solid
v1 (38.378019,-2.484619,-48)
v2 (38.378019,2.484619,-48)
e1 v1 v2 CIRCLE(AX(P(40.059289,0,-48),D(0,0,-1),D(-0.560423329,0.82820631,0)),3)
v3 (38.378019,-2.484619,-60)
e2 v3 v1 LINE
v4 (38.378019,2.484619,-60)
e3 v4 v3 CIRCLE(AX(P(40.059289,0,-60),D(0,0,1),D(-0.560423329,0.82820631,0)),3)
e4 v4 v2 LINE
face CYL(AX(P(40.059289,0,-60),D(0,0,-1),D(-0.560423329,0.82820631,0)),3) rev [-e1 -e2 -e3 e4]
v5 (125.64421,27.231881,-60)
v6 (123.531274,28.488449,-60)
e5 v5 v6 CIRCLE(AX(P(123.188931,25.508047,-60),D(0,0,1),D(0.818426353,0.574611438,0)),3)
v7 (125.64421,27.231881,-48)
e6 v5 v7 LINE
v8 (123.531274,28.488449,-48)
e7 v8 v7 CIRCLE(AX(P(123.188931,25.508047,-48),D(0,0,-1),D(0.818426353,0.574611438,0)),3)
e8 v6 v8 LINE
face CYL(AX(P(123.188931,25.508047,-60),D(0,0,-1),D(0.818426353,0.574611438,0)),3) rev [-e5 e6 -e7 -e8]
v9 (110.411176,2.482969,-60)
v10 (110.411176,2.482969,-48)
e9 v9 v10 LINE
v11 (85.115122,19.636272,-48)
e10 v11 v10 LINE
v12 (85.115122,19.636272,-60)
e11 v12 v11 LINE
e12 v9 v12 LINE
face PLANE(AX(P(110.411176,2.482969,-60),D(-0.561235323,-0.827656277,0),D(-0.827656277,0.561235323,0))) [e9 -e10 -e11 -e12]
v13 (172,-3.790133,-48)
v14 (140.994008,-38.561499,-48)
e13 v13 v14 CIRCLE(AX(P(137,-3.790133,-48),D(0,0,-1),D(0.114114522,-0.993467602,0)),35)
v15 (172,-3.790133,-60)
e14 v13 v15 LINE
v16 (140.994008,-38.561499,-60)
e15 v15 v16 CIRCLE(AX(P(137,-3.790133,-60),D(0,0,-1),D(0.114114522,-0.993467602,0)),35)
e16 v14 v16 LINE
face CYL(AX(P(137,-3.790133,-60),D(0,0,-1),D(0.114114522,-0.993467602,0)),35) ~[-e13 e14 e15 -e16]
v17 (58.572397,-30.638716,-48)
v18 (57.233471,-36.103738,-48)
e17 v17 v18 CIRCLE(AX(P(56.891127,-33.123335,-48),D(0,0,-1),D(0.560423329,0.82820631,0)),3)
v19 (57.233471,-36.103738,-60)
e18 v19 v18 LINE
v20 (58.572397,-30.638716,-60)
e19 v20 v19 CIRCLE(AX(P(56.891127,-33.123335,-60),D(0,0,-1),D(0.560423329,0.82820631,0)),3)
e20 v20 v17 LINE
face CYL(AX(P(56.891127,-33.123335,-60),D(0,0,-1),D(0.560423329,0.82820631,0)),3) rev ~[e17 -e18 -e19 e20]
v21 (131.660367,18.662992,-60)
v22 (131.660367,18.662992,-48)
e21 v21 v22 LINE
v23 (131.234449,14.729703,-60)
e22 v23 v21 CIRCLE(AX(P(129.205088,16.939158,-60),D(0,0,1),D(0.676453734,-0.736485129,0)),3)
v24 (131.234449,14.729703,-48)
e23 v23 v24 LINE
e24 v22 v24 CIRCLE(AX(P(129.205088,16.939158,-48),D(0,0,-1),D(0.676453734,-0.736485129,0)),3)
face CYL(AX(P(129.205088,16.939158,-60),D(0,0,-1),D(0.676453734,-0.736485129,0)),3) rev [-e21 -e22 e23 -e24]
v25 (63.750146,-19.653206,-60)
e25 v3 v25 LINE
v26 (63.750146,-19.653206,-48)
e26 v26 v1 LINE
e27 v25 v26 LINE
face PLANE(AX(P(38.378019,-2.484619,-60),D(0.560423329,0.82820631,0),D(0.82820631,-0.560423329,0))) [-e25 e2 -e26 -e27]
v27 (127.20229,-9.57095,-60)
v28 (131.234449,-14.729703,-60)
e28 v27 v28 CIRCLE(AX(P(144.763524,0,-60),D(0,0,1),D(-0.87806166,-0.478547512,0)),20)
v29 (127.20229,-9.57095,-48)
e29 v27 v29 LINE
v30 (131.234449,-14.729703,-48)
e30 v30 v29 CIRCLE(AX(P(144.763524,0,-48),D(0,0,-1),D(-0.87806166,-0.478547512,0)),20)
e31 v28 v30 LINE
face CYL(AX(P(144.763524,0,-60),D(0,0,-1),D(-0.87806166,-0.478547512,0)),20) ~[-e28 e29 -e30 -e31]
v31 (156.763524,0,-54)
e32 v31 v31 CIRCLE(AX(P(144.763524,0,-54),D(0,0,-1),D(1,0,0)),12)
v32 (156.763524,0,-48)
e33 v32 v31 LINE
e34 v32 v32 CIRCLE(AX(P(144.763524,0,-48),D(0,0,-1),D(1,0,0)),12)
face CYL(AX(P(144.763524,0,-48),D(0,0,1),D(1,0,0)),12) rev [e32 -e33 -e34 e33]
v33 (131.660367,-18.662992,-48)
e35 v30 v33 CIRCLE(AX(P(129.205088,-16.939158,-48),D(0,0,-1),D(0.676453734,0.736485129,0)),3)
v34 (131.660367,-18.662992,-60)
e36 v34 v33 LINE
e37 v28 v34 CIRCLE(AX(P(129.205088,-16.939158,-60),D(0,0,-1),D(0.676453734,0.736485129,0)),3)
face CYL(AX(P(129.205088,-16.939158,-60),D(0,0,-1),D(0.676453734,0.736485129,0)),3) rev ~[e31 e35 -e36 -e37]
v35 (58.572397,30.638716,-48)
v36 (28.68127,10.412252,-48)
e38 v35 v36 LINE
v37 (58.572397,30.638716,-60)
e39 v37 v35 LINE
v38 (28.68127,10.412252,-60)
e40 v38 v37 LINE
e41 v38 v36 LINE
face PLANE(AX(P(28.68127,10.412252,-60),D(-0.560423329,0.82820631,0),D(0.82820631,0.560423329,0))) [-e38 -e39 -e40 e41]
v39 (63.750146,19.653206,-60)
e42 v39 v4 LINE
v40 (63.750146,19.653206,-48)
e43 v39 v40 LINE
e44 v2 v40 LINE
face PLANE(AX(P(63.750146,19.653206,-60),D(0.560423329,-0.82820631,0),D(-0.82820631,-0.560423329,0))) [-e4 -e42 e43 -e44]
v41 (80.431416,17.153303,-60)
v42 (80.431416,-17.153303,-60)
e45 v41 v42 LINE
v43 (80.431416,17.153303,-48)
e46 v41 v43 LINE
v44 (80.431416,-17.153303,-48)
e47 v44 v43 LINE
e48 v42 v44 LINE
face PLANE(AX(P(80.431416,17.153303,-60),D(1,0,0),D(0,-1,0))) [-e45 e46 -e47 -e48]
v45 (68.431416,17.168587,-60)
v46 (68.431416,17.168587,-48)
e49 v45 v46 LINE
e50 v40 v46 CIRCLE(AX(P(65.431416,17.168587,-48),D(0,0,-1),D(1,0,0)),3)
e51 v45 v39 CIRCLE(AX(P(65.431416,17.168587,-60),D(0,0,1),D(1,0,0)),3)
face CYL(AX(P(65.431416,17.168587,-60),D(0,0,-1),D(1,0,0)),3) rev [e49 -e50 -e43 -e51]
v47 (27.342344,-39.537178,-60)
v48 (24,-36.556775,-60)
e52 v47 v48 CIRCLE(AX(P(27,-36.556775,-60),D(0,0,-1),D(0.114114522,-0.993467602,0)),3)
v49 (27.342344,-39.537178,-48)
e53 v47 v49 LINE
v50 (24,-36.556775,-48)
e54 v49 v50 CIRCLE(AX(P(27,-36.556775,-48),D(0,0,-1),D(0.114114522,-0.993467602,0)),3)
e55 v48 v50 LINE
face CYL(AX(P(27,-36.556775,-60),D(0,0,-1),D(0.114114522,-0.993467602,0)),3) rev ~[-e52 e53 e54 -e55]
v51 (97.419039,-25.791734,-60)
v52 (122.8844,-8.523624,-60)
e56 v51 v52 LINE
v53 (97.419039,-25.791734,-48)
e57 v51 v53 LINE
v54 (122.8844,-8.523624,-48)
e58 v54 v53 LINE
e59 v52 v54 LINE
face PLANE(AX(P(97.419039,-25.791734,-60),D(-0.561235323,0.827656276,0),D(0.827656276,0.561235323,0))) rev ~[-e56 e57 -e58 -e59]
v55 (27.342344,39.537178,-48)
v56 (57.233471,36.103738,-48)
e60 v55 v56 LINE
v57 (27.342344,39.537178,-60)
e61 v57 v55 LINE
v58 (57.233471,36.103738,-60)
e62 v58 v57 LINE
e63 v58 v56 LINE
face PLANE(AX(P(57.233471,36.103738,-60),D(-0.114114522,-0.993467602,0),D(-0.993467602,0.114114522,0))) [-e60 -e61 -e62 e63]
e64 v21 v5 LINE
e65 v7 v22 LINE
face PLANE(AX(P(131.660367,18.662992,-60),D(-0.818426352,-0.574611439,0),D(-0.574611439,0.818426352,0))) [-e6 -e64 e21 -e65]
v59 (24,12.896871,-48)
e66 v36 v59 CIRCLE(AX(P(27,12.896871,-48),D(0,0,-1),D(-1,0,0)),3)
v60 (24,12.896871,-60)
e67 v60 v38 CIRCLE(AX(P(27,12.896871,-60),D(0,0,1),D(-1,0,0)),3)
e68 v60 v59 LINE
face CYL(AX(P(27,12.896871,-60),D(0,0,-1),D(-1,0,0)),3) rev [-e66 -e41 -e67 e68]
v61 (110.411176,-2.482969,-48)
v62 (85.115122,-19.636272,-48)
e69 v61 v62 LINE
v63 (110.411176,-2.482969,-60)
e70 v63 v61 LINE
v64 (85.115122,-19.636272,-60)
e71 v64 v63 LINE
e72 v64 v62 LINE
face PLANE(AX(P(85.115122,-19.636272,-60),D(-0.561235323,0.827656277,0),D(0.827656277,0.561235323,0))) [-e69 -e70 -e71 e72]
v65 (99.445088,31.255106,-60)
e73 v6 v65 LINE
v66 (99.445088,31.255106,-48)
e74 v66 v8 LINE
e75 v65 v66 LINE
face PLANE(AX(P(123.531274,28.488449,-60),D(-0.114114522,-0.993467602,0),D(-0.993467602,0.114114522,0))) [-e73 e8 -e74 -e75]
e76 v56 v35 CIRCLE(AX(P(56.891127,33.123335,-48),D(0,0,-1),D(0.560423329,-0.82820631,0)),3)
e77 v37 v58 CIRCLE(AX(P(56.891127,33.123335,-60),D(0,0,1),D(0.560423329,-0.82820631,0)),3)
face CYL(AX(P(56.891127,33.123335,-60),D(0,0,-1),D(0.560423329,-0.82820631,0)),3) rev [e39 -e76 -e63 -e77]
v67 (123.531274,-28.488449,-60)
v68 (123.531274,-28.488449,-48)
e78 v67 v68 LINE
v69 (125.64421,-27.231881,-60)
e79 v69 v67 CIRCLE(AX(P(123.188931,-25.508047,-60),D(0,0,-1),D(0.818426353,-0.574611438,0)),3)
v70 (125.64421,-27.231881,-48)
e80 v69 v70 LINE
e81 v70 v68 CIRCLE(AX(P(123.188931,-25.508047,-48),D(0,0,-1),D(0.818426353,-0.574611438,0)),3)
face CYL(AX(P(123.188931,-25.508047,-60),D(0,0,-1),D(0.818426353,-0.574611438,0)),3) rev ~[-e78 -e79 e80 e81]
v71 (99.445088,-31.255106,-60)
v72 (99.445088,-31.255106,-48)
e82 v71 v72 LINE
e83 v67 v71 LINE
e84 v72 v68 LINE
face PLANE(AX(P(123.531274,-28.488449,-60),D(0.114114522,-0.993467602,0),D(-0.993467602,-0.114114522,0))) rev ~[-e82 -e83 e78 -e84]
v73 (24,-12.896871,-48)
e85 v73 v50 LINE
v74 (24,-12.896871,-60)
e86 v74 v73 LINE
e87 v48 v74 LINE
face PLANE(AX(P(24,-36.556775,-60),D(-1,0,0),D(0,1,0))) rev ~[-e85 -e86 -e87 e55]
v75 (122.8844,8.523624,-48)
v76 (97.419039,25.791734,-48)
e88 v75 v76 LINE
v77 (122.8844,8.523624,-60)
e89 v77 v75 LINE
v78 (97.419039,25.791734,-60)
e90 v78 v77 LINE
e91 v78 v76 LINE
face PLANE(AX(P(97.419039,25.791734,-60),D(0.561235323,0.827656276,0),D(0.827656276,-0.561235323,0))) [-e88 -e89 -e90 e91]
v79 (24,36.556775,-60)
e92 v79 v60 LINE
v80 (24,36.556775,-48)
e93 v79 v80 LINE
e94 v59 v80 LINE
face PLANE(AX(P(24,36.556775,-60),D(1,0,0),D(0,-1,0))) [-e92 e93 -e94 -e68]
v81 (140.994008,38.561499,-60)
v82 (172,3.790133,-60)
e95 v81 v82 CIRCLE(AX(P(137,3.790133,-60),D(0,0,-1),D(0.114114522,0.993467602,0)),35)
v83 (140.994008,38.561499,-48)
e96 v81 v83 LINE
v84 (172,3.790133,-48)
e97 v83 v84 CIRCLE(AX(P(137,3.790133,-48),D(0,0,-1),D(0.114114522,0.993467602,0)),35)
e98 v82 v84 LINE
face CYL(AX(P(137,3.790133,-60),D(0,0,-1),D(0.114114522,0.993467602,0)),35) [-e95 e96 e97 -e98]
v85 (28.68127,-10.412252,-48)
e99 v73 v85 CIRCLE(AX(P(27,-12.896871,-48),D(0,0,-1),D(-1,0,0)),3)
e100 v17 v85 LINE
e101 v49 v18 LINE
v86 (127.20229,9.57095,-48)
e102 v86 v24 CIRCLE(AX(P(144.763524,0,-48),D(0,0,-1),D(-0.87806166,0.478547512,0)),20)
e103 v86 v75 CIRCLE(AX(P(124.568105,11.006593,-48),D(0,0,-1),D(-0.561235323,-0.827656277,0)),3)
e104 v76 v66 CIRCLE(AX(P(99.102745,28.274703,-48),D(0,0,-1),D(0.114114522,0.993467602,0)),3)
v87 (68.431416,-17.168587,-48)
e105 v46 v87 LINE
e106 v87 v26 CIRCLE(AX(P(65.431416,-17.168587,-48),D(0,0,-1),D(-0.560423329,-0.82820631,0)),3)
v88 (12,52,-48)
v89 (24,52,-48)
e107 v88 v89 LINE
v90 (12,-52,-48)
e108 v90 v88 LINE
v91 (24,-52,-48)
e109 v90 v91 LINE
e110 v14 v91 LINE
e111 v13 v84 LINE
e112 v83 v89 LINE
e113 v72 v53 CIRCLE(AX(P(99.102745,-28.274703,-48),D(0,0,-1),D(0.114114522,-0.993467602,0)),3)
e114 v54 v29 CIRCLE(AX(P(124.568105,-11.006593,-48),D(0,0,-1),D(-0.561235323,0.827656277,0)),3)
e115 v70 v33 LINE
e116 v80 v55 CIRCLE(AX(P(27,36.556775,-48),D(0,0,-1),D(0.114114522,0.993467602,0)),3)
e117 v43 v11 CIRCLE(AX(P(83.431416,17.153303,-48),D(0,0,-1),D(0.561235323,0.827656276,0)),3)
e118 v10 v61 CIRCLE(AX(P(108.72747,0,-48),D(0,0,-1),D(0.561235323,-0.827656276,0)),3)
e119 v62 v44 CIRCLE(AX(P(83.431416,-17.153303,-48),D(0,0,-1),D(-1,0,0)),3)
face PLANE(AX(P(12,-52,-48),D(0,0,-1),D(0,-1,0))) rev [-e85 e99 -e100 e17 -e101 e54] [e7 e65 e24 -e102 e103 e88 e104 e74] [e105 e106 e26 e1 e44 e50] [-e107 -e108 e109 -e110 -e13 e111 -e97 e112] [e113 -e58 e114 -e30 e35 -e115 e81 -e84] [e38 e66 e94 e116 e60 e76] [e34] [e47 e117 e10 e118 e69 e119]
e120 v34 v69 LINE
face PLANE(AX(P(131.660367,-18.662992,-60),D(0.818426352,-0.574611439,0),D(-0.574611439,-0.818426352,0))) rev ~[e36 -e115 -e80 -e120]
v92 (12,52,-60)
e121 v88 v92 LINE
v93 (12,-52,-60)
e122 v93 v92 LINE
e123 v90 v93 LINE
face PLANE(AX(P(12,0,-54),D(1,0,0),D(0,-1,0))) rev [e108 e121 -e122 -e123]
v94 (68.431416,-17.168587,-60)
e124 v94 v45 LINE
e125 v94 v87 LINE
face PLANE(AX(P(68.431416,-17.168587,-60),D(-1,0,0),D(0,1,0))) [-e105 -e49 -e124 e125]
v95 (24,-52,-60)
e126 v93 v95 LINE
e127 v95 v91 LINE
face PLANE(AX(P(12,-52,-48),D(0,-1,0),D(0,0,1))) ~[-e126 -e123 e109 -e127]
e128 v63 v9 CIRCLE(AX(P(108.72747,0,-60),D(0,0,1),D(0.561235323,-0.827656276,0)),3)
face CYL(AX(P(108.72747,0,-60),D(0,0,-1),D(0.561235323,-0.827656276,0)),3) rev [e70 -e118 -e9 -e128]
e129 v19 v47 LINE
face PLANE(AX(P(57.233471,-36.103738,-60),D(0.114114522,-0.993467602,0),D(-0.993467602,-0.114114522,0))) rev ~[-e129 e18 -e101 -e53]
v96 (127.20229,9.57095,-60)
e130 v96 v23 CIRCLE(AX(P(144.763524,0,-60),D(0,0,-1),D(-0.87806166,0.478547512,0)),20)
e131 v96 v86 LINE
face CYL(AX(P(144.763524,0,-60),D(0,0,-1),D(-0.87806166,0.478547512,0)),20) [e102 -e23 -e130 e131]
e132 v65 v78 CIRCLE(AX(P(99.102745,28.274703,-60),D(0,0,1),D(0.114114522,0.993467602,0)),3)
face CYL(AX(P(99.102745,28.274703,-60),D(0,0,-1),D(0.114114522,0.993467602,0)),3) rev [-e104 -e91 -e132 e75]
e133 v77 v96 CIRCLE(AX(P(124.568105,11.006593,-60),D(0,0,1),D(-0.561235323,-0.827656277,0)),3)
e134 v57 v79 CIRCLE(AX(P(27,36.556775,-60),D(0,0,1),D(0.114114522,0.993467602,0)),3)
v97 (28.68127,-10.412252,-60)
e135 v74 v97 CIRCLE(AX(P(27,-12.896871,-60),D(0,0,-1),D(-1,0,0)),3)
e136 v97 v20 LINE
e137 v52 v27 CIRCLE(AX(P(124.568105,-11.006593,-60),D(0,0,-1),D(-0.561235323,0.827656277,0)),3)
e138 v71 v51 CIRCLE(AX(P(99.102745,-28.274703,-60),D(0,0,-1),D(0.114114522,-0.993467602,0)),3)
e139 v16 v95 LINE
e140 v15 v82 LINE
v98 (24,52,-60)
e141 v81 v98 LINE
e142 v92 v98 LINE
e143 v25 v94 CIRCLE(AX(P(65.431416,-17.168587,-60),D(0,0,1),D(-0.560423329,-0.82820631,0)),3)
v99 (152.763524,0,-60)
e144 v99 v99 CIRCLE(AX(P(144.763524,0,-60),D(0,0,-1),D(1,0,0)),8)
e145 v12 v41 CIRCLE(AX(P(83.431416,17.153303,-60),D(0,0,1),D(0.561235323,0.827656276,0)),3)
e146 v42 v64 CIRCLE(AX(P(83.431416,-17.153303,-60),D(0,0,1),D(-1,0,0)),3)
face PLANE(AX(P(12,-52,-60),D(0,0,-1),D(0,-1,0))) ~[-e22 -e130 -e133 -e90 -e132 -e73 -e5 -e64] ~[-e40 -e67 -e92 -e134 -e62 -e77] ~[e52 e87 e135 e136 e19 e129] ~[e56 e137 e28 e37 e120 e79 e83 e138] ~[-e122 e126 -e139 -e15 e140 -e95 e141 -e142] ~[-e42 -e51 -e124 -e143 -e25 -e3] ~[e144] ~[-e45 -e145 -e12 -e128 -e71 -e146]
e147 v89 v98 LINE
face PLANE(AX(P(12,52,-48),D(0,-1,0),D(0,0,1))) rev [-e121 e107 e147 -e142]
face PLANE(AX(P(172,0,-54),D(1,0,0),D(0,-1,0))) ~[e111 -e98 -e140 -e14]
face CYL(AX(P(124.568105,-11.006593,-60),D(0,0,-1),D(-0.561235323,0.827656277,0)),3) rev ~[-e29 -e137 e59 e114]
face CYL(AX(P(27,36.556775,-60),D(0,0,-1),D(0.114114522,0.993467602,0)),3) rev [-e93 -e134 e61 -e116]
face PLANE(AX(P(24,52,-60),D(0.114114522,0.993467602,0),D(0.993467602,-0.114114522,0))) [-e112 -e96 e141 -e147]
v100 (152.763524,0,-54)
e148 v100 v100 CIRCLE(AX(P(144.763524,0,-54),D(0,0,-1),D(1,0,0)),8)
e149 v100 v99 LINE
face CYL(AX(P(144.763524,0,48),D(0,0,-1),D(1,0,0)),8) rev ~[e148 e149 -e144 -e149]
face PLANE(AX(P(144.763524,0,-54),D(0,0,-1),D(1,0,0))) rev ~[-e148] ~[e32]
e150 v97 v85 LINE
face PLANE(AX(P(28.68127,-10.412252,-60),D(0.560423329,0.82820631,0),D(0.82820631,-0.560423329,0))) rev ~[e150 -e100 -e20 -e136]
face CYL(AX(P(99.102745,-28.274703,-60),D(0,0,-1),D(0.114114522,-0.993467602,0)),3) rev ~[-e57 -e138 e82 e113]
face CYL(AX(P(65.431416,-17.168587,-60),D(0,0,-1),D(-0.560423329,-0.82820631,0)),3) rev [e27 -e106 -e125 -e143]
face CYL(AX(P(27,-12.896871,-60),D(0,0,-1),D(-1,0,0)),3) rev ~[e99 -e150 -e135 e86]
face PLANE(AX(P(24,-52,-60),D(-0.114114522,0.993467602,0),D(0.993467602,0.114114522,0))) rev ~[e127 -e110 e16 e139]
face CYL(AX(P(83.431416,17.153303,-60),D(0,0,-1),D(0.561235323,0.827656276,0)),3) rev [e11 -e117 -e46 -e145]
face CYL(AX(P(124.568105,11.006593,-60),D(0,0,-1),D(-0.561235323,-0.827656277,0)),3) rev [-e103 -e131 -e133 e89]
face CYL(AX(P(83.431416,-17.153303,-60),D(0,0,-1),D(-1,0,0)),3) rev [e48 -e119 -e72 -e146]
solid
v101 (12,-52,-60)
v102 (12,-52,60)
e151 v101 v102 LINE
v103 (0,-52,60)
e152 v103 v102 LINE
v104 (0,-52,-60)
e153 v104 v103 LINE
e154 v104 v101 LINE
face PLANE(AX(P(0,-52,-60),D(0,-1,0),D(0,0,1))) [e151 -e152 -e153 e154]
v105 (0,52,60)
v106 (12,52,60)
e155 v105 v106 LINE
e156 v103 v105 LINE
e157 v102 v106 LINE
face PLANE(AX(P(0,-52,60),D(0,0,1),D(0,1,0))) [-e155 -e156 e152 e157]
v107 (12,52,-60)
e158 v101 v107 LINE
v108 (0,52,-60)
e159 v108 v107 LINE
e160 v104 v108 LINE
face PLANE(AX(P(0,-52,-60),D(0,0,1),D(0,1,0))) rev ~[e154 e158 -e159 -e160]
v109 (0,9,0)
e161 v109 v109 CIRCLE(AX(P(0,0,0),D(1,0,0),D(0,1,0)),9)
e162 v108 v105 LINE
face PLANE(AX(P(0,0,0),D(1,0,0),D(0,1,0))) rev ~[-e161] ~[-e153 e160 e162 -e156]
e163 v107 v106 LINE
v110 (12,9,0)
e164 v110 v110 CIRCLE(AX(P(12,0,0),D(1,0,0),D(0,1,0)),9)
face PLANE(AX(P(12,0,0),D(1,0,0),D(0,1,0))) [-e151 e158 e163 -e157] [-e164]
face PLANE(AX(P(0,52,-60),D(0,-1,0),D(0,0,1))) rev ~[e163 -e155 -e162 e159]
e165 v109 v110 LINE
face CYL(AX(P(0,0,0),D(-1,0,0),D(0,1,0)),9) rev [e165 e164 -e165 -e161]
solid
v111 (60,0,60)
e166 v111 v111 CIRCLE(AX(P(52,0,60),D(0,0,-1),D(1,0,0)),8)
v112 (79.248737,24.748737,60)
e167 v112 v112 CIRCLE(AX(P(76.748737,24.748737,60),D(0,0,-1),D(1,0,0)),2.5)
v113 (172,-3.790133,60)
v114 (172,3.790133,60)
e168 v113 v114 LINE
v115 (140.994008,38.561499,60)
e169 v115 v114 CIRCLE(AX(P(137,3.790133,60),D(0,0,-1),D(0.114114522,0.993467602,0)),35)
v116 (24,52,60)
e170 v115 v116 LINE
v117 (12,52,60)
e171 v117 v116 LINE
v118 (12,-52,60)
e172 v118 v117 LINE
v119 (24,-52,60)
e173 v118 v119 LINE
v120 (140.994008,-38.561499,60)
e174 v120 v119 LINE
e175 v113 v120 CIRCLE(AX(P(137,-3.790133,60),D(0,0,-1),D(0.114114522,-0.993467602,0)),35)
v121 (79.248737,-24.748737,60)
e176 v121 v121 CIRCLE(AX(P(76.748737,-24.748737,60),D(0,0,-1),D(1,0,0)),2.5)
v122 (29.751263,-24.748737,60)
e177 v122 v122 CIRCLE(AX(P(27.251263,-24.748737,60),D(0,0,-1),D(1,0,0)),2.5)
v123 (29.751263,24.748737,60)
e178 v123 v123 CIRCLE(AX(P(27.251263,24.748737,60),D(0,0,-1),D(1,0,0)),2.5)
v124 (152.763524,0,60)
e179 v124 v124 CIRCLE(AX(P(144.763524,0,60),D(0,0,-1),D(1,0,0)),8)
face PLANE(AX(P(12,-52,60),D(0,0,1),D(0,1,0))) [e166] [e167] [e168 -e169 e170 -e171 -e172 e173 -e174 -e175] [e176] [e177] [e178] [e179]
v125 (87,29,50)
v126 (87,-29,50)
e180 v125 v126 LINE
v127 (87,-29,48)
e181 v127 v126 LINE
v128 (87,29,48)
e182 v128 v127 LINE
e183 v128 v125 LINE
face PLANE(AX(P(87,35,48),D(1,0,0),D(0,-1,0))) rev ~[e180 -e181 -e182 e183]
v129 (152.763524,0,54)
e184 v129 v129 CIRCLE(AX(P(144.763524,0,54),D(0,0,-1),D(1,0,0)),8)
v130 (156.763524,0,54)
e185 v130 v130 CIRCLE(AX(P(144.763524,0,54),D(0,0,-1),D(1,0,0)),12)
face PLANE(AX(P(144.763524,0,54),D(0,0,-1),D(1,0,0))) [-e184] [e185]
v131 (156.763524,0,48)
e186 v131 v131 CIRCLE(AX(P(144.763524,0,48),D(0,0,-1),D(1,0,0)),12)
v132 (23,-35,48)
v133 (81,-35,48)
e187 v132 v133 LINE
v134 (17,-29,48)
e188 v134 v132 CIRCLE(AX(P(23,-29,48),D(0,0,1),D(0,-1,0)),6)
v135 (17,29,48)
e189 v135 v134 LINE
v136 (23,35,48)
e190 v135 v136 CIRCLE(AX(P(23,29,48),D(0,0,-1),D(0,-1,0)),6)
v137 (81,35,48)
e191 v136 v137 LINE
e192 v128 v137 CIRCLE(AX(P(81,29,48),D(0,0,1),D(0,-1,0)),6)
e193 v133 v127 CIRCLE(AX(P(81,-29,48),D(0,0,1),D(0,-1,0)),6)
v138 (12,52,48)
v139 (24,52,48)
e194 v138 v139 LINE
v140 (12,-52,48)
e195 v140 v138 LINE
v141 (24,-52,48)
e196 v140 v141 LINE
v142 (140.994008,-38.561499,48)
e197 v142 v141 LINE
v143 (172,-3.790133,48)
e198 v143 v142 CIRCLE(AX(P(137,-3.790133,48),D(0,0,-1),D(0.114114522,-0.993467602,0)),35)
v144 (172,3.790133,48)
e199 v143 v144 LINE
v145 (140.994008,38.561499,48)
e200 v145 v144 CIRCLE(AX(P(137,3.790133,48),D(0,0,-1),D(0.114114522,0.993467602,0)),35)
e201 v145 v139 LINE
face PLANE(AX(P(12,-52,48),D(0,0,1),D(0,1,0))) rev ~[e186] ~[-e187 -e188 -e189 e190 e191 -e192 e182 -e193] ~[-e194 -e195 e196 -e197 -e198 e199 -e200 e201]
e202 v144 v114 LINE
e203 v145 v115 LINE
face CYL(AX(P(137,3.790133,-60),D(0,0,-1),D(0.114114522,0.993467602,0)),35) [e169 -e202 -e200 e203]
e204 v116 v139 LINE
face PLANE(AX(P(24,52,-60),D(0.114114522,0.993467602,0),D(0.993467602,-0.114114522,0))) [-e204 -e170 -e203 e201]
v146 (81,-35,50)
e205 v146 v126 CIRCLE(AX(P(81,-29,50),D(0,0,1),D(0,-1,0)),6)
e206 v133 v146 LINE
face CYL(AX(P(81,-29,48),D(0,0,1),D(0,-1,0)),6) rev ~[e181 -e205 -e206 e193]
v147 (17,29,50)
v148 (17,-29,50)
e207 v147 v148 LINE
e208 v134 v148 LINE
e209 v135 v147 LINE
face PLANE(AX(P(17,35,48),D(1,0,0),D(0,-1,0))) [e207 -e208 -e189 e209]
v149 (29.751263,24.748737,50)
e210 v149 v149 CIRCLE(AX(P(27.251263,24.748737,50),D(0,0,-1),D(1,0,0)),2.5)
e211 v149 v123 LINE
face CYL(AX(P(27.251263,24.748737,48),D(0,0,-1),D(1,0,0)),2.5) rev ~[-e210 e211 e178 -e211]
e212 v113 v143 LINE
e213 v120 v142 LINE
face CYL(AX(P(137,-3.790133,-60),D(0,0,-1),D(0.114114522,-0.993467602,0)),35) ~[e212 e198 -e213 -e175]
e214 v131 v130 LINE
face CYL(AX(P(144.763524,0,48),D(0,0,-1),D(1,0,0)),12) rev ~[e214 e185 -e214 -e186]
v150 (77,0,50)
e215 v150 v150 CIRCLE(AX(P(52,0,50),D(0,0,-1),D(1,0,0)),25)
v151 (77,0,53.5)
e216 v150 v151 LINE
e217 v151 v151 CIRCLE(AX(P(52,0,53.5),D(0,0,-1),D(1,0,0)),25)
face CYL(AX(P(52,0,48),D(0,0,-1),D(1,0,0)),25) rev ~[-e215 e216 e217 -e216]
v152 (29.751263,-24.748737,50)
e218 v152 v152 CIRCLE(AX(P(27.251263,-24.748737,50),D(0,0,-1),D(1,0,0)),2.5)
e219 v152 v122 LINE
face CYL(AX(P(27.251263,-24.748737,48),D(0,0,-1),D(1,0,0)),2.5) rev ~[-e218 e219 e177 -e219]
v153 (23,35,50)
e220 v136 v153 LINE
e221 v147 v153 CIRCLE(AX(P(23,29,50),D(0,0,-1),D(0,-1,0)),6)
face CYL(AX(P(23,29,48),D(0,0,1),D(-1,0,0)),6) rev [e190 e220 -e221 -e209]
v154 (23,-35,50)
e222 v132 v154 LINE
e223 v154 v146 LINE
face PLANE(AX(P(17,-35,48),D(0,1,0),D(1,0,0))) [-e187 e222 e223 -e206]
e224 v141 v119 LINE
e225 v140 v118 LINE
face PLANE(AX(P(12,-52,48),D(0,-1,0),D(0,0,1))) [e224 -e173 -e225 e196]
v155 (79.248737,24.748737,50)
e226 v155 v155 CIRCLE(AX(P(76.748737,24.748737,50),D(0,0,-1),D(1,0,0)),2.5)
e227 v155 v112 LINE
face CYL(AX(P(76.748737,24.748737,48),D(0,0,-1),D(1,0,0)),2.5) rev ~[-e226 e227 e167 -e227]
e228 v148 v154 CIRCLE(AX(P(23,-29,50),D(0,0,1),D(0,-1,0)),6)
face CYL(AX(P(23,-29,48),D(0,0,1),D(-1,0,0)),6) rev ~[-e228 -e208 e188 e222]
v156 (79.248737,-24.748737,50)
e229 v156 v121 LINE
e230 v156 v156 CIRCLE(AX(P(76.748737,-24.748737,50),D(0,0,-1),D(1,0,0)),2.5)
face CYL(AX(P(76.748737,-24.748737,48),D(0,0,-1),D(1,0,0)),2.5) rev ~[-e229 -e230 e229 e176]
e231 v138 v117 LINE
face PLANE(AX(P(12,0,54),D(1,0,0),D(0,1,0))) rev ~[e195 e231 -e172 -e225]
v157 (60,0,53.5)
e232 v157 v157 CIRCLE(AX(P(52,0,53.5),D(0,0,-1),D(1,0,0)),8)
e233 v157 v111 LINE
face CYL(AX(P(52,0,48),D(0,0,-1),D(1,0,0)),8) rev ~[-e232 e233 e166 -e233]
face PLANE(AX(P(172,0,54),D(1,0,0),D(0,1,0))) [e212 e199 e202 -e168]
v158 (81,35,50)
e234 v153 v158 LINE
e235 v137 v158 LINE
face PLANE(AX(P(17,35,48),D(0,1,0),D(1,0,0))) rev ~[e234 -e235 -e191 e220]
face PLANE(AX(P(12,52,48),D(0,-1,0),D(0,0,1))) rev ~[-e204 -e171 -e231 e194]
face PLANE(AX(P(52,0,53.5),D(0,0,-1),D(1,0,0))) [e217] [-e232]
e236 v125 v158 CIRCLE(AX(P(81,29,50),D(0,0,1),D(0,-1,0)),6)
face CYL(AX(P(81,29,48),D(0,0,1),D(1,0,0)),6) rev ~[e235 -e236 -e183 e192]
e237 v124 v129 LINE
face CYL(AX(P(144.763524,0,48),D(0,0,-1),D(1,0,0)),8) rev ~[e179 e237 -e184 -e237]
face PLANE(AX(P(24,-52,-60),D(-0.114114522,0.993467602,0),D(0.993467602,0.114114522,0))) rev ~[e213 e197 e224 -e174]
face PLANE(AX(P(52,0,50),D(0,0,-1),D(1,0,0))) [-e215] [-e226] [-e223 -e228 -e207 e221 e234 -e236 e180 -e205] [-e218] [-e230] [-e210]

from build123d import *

# Parameters (mm, degrees)
SKETCH1_W               = 104
SKETCH1_H               = 120
SKETCH1_R               = 9
BOSS_EXTRUDE1_DEPTH     = 12
SKETCH2_W               = 104
SKETCH2_H               = 12
BOSS_EXTRUDE3_DEPTH     = 160
SKETCH3_R               = 8
SKETCH3_R_2             = 2.5
CUT_EXTRUDE1_DEPTH      = 20
SKETCH3_3_R             = 25
CUT_EXTRUDE2_DEPTH      = 5.5
SKETCH3_4_W             = 70
SKETCH3_4_H             = 70
CUT_EXTRUDE3_DEPTH      = 2
FILLET1_R               = 6
SKETCH3_5_R             = 8
CUT_EXTRUDE4_DEPTH      = 109
CUT_EXTRUDE4_DEPTH_BACK = 13
SKETCH3_6_R             = 12
SKETCH3_6_R_2           = 8
CUT_EXTRUDE5_DEPTH      = 6
CUT_EXTRUDE6_START      = 96
SKETCH3_7_R             = 12
CUT_EXTRUDE6_DEPTH      = 6
CUT_EXTRUDE7_DEPTH      = 1
CUT_EXTRUDE7_DEPTH_BACK = 121
CUT_EXTRUDE8_DEPTH      = 1
CUT_EXTRUDE8_DEPTH_BACK = 20


with BuildPart() as part:
    # Sketch1 → Boss-Extrude1 (new body)
    with BuildSketch(Plane.YZ):
        Rectangle(SKETCH1_W, SKETCH1_H)
        Circle(SKETCH1_R, mode=Mode.SUBTRACT)
    extrude(amount=BOSS_EXTRUDE1_DEPTH)


with BuildPart() as body_2:
    # Sketch2 → Boss-Extrude3 (new body)
    with BuildSketch(Plane.YZ.offset(12)):
        with Locations((0, 54)):
            Rectangle(SKETCH2_W, SKETCH2_H)
    extrude(amount=BOSS_EXTRUDE3_DEPTH)


with BuildPart() as body_3:
    # Mirror2: mirrored copy
    add(body_2.part.mirror(Plane.XY))


with BuildPart() as body_2_1:
    add(body_2.part)

    # Sketch3 → Cut-Extrude1 (cut)
    with BuildSketch(Plane(origin=(0, 0, 48), x_dir=(1, 0, 0), z_dir=(0, 0, -1))):
        with Locations((52, 0)):
            Circle(SKETCH3_R)
        with Locations((27.251262658, 24.748737342)):
            Circle(SKETCH3_R_2)
        with Locations((76.748737342, 24.748737342)):
            Circle(SKETCH3_R_2)
        with Locations((76.748737342, -24.748737342)):
            Circle(SKETCH3_R_2)
        with Locations((27.251262658, -24.748737342)):
            Circle(SKETCH3_R_2)
    extrude(amount=-CUT_EXTRUDE1_DEPTH, mode=Mode.SUBTRACT)

    # Sketch3<3> → Cut-Extrude2 (cut)
    with BuildSketch(Plane(origin=(0, 0, 48), x_dir=(1, 0, 0), z_dir=(0, 0, -1))):
        with Locations((52, 0)):
            Circle(SKETCH3_3_R)
    extrude(amount=-CUT_EXTRUDE2_DEPTH, mode=Mode.SUBTRACT)

    # Sketch3<4> → Cut-Extrude3 (cut)
    with BuildSketch(Plane(origin=(0, 0, 48), x_dir=(1, 0, 0), z_dir=(0, 0, -1))):
        with Locations((52, 0)):
            Rectangle(SKETCH3_4_W, SKETCH3_4_H)
    extrude(amount=-CUT_EXTRUDE3_DEPTH, mode=Mode.SUBTRACT)

    # Fillet1
    fillet1_edges = [body_2_1.edges().sort_by_distance(p)[0] for p in [
        (17, 35, 49),
        (17, -35, 49),
        (87, -35, 49),
        (87, 35, 49),
    ]]
    fillet(fillet1_edges, radius=FILLET1_R)


with BuildPart() as cut_extrude4_tool:
    # Sketch3<5> → Cut-Extrude4 (new body, two sides)
    with BuildSketch(Plane(origin=(0, 0, 48), x_dir=(1, 0, 0), z_dir=(0, 0, -1))) as cut_extrude4_sk:
        with Locations((144.763523684, 0)):
            Circle(SKETCH3_5_R)
    extrude(amount=CUT_EXTRUDE4_DEPTH)
    extrude(cut_extrude4_sk.sketch, amount=-CUT_EXTRUDE4_DEPTH_BACK)


with BuildPart() as body_2_2:
    add(body_2_1.part)

    # Cut-Extrude4: cut by cut_extrude4_tool
    add(cut_extrude4_tool.part, mode=Mode.SUBTRACT)

    # Sketch3<6> → Cut-Extrude5 (cut)
    with BuildSketch(Plane(origin=(0, 0, 48), x_dir=(1, 0, 0), z_dir=(0, 0, -1))):
        with Locations((144.763523684, 0)):
            Circle(SKETCH3_6_R)
        with Locations((144.763523684, 0)):
            Circle(SKETCH3_6_R_2, mode=Mode.SUBTRACT)
    extrude(amount=-CUT_EXTRUDE5_DEPTH, mode=Mode.SUBTRACT)


with BuildPart() as body_3_1:
    add(body_3.part)

    # Cut-Extrude4: cut by cut_extrude4_tool
    add(cut_extrude4_tool.part, mode=Mode.SUBTRACT)

    # Sketch3<7> → Cut-Extrude6 (cut)
    with BuildSketch(Plane(origin=(0, 0, 48), x_dir=(1, 0, 0), z_dir=(0, 0, -1)).offset(CUT_EXTRUDE6_START)):
        with Locations((144.763523684, 0)):
            Circle(SKETCH3_7_R)
    extrude(amount=CUT_EXTRUDE6_DEPTH, mode=Mode.SUBTRACT)


with BuildPart() as cut_extrude7_tool:
    # Sketch4 → Cut-Extrude7 (new body, two sides)
    with BuildSketch(Plane(origin=(0, 0, -60), x_dir=(1, 0, 0), z_dir=(0, 0, -1))) as cut_extrude7_sk:
        with BuildLine():
            Line((24, 52), (140.994008264, 38.561499051))
            ThreePointArc((140.994008264, 38.561499051), (163.122694054, 27.084013199), (172, 3.790132986))
            Line((172, 3.790132986), (172, 52))
            Line((172, 52), (24, 52))
        make_face()
        with BuildLine():
            Line((24, -52), (140.994008264, -38.561499051))
            ThreePointArc((140.994008264, -38.561499051), (163.122694054, -27.084013199), (172, -3.790132986))
            Line((172, -3.790132986), (172, -52))
            Line((172, -52), (24, -52))
        make_face()
    extrude(amount=CUT_EXTRUDE7_DEPTH)
    extrude(cut_extrude7_sk.sketch, amount=-CUT_EXTRUDE7_DEPTH_BACK)


with BuildPart() as body_2_3:
    add(body_2_2.part)

    # Cut-Extrude7: cut by cut_extrude7_tool
    add(cut_extrude7_tool.part, mode=Mode.SUBTRACT)


with BuildPart() as body_3_2:
    add(body_3_1.part)

    # Cut-Extrude7: cut by cut_extrude7_tool
    add(cut_extrude7_tool.part, mode=Mode.SUBTRACT)

    # Sketch5 → Cut-Extrude8 (cut, two sides)
    with BuildSketch(Plane(origin=(0, 0, -60), x_dir=(1, 0, 0), z_dir=(0, 0, -1))) as cut_extrude8_sk:
        with BuildLine():
            Line((38.378018651, 2.484618931), (63.750146093, 19.653205971))
            ThreePointArc((63.750146093, 19.653205971), (66.83786374, 19.81847477), (68.43141608, 17.168587041))
            Line((68.43141608, 17.168587041), (68.43141608, -17.168587041))
            ThreePointArc((68.43141608, -17.168587041), (66.83786374, -19.81847477), (63.750146093, -19.653205971))
            Line((63.750146093, -19.653205971), (38.378018651, -2.484618931))
            ThreePointArc((38.378018651, -2.484618931), (37.059288638, 0), (38.378018651, 2.484618931))
        make_face()
        with BuildLine():
            Line((85.11512205, 19.636271681), (110.411175563, 2.482968829))
            ThreePointArc((110.411175563, 2.482968829), (111.727469593, 0), (110.411175563, -2.482968829))
            Line((110.411175563, -2.482968829), (85.11512205, -19.636271681))
            ThreePointArc((85.11512205, -19.636271681), (82.026268029, -19.80387995), (80.43141608, -17.153302852))
            Line((80.43141608, -17.153302852), (80.43141608, 17.153302852))
            ThreePointArc((80.43141608, 17.153302852), (82.026268029, 19.80387995), (85.11512205, 19.636271681))
        make_face()
        with BuildLine():
            Line((28.681269987, 10.412252121), (58.572397099, 30.638715934))
            ThreePointArc((58.572397099, 30.638715934), (59.804950819, 33.837219591), (57.233470678, 36.10373767))
            Line((57.233470678, 36.10373767), (27.342343565, 39.537177946))
            ThreePointArc((27.342343565, 39.537177946), (25.003381696, 38.795863203), (24, 36.556775141))
            Line((24, 36.556775141), (24, 12.896871051))
            ThreePointArc((24, 12.896871051), (25.59355234, 10.246983322), (28.681269987, 10.412252121))
        make_face()
        with BuildLine():
            Line((97.419038917, 25.791734264), (122.88439953, 8.523623939))
            ThreePointArc((122.88439953, 8.523623939), (125.275265792, 8.0911298), (127.20229048, 9.570950233))
            ThreePointArc((127.20229048, 9.570950233), (129.005827387, 12.316452712), (131.234448999, 14.729702583))
            ThreePointArc((131.234448999, 14.729702583), (132.187652387, 16.616189766), (131.660366854, 18.662992286))
            Line((131.660366854, 18.662992286), (125.644209857, 27.231880919))
            ThreePointArc((125.644209857, 27.231880919), (124.722362956, 28.086531783), (123.531274365, 28.488449409))
            Line((123.531274365, 28.488449409), (99.445088452, 31.255105899))
            ThreePointArc((99.445088452, 31.255105899), (96.289931227, 29.317813499), (97.419038917, 25.791734264))
        make_face()
        with BuildLine():
            Line((97.419038917, -25.791734264), (122.88439953, -8.523623939))
            ThreePointArc((122.88439953, -8.523623939), (125.275265792, -8.0911298), (127.20229048, -9.570950233))
            ThreePointArc((127.20229048, -9.570950233), (129.005827387, -12.316452712), (131.234448999, -14.729702583))
            ThreePointArc((131.234448999, -14.729702583), (132.187652387, -16.616189766), (131.660366854, -18.662992286))
            Line((131.660366854, -18.662992286), (125.644209857, -27.231880919))
            ThreePointArc((125.644209857, -27.231880919), (124.722362956, -28.086531783), (123.531274365, -28.488449409))
            Line((123.531274365, -28.488449409), (99.445088452, -31.255105899))
            ThreePointArc((99.445088452, -31.255105899), (96.289931227, -29.317813499), (97.419038917, -25.791734264))
        make_face()
        with BuildLine():
            Line((28.681269987, -10.412252121), (58.572397099, -30.638715934))
            ThreePointArc((58.572397099, -30.638715934), (59.804950819, -33.837219591), (57.233470678, -36.10373767))
            Line((57.233470678, -36.10373767), (27.342343565, -39.537177946))
            ThreePointArc((27.342343565, -39.537177946), (25.003381696, -38.795863203), (24, -36.556775141))
            Line((24, -36.556775141), (24, -12.896871051))
            ThreePointArc((24, -12.896871051), (25.59355234, -10.246983322), (28.681269987, -10.412252121))
        make_face()
    extrude(amount=CUT_EXTRUDE8_DEPTH, mode=Mode.SUBTRACT)
    extrude(cut_extrude8_sk.sketch, amount=-CUT_EXTRUDE8_DEPTH_BACK, mode=Mode.SUBTRACT)


solid = Compound([part.part, body_2_3.part, body_3_2.part])
